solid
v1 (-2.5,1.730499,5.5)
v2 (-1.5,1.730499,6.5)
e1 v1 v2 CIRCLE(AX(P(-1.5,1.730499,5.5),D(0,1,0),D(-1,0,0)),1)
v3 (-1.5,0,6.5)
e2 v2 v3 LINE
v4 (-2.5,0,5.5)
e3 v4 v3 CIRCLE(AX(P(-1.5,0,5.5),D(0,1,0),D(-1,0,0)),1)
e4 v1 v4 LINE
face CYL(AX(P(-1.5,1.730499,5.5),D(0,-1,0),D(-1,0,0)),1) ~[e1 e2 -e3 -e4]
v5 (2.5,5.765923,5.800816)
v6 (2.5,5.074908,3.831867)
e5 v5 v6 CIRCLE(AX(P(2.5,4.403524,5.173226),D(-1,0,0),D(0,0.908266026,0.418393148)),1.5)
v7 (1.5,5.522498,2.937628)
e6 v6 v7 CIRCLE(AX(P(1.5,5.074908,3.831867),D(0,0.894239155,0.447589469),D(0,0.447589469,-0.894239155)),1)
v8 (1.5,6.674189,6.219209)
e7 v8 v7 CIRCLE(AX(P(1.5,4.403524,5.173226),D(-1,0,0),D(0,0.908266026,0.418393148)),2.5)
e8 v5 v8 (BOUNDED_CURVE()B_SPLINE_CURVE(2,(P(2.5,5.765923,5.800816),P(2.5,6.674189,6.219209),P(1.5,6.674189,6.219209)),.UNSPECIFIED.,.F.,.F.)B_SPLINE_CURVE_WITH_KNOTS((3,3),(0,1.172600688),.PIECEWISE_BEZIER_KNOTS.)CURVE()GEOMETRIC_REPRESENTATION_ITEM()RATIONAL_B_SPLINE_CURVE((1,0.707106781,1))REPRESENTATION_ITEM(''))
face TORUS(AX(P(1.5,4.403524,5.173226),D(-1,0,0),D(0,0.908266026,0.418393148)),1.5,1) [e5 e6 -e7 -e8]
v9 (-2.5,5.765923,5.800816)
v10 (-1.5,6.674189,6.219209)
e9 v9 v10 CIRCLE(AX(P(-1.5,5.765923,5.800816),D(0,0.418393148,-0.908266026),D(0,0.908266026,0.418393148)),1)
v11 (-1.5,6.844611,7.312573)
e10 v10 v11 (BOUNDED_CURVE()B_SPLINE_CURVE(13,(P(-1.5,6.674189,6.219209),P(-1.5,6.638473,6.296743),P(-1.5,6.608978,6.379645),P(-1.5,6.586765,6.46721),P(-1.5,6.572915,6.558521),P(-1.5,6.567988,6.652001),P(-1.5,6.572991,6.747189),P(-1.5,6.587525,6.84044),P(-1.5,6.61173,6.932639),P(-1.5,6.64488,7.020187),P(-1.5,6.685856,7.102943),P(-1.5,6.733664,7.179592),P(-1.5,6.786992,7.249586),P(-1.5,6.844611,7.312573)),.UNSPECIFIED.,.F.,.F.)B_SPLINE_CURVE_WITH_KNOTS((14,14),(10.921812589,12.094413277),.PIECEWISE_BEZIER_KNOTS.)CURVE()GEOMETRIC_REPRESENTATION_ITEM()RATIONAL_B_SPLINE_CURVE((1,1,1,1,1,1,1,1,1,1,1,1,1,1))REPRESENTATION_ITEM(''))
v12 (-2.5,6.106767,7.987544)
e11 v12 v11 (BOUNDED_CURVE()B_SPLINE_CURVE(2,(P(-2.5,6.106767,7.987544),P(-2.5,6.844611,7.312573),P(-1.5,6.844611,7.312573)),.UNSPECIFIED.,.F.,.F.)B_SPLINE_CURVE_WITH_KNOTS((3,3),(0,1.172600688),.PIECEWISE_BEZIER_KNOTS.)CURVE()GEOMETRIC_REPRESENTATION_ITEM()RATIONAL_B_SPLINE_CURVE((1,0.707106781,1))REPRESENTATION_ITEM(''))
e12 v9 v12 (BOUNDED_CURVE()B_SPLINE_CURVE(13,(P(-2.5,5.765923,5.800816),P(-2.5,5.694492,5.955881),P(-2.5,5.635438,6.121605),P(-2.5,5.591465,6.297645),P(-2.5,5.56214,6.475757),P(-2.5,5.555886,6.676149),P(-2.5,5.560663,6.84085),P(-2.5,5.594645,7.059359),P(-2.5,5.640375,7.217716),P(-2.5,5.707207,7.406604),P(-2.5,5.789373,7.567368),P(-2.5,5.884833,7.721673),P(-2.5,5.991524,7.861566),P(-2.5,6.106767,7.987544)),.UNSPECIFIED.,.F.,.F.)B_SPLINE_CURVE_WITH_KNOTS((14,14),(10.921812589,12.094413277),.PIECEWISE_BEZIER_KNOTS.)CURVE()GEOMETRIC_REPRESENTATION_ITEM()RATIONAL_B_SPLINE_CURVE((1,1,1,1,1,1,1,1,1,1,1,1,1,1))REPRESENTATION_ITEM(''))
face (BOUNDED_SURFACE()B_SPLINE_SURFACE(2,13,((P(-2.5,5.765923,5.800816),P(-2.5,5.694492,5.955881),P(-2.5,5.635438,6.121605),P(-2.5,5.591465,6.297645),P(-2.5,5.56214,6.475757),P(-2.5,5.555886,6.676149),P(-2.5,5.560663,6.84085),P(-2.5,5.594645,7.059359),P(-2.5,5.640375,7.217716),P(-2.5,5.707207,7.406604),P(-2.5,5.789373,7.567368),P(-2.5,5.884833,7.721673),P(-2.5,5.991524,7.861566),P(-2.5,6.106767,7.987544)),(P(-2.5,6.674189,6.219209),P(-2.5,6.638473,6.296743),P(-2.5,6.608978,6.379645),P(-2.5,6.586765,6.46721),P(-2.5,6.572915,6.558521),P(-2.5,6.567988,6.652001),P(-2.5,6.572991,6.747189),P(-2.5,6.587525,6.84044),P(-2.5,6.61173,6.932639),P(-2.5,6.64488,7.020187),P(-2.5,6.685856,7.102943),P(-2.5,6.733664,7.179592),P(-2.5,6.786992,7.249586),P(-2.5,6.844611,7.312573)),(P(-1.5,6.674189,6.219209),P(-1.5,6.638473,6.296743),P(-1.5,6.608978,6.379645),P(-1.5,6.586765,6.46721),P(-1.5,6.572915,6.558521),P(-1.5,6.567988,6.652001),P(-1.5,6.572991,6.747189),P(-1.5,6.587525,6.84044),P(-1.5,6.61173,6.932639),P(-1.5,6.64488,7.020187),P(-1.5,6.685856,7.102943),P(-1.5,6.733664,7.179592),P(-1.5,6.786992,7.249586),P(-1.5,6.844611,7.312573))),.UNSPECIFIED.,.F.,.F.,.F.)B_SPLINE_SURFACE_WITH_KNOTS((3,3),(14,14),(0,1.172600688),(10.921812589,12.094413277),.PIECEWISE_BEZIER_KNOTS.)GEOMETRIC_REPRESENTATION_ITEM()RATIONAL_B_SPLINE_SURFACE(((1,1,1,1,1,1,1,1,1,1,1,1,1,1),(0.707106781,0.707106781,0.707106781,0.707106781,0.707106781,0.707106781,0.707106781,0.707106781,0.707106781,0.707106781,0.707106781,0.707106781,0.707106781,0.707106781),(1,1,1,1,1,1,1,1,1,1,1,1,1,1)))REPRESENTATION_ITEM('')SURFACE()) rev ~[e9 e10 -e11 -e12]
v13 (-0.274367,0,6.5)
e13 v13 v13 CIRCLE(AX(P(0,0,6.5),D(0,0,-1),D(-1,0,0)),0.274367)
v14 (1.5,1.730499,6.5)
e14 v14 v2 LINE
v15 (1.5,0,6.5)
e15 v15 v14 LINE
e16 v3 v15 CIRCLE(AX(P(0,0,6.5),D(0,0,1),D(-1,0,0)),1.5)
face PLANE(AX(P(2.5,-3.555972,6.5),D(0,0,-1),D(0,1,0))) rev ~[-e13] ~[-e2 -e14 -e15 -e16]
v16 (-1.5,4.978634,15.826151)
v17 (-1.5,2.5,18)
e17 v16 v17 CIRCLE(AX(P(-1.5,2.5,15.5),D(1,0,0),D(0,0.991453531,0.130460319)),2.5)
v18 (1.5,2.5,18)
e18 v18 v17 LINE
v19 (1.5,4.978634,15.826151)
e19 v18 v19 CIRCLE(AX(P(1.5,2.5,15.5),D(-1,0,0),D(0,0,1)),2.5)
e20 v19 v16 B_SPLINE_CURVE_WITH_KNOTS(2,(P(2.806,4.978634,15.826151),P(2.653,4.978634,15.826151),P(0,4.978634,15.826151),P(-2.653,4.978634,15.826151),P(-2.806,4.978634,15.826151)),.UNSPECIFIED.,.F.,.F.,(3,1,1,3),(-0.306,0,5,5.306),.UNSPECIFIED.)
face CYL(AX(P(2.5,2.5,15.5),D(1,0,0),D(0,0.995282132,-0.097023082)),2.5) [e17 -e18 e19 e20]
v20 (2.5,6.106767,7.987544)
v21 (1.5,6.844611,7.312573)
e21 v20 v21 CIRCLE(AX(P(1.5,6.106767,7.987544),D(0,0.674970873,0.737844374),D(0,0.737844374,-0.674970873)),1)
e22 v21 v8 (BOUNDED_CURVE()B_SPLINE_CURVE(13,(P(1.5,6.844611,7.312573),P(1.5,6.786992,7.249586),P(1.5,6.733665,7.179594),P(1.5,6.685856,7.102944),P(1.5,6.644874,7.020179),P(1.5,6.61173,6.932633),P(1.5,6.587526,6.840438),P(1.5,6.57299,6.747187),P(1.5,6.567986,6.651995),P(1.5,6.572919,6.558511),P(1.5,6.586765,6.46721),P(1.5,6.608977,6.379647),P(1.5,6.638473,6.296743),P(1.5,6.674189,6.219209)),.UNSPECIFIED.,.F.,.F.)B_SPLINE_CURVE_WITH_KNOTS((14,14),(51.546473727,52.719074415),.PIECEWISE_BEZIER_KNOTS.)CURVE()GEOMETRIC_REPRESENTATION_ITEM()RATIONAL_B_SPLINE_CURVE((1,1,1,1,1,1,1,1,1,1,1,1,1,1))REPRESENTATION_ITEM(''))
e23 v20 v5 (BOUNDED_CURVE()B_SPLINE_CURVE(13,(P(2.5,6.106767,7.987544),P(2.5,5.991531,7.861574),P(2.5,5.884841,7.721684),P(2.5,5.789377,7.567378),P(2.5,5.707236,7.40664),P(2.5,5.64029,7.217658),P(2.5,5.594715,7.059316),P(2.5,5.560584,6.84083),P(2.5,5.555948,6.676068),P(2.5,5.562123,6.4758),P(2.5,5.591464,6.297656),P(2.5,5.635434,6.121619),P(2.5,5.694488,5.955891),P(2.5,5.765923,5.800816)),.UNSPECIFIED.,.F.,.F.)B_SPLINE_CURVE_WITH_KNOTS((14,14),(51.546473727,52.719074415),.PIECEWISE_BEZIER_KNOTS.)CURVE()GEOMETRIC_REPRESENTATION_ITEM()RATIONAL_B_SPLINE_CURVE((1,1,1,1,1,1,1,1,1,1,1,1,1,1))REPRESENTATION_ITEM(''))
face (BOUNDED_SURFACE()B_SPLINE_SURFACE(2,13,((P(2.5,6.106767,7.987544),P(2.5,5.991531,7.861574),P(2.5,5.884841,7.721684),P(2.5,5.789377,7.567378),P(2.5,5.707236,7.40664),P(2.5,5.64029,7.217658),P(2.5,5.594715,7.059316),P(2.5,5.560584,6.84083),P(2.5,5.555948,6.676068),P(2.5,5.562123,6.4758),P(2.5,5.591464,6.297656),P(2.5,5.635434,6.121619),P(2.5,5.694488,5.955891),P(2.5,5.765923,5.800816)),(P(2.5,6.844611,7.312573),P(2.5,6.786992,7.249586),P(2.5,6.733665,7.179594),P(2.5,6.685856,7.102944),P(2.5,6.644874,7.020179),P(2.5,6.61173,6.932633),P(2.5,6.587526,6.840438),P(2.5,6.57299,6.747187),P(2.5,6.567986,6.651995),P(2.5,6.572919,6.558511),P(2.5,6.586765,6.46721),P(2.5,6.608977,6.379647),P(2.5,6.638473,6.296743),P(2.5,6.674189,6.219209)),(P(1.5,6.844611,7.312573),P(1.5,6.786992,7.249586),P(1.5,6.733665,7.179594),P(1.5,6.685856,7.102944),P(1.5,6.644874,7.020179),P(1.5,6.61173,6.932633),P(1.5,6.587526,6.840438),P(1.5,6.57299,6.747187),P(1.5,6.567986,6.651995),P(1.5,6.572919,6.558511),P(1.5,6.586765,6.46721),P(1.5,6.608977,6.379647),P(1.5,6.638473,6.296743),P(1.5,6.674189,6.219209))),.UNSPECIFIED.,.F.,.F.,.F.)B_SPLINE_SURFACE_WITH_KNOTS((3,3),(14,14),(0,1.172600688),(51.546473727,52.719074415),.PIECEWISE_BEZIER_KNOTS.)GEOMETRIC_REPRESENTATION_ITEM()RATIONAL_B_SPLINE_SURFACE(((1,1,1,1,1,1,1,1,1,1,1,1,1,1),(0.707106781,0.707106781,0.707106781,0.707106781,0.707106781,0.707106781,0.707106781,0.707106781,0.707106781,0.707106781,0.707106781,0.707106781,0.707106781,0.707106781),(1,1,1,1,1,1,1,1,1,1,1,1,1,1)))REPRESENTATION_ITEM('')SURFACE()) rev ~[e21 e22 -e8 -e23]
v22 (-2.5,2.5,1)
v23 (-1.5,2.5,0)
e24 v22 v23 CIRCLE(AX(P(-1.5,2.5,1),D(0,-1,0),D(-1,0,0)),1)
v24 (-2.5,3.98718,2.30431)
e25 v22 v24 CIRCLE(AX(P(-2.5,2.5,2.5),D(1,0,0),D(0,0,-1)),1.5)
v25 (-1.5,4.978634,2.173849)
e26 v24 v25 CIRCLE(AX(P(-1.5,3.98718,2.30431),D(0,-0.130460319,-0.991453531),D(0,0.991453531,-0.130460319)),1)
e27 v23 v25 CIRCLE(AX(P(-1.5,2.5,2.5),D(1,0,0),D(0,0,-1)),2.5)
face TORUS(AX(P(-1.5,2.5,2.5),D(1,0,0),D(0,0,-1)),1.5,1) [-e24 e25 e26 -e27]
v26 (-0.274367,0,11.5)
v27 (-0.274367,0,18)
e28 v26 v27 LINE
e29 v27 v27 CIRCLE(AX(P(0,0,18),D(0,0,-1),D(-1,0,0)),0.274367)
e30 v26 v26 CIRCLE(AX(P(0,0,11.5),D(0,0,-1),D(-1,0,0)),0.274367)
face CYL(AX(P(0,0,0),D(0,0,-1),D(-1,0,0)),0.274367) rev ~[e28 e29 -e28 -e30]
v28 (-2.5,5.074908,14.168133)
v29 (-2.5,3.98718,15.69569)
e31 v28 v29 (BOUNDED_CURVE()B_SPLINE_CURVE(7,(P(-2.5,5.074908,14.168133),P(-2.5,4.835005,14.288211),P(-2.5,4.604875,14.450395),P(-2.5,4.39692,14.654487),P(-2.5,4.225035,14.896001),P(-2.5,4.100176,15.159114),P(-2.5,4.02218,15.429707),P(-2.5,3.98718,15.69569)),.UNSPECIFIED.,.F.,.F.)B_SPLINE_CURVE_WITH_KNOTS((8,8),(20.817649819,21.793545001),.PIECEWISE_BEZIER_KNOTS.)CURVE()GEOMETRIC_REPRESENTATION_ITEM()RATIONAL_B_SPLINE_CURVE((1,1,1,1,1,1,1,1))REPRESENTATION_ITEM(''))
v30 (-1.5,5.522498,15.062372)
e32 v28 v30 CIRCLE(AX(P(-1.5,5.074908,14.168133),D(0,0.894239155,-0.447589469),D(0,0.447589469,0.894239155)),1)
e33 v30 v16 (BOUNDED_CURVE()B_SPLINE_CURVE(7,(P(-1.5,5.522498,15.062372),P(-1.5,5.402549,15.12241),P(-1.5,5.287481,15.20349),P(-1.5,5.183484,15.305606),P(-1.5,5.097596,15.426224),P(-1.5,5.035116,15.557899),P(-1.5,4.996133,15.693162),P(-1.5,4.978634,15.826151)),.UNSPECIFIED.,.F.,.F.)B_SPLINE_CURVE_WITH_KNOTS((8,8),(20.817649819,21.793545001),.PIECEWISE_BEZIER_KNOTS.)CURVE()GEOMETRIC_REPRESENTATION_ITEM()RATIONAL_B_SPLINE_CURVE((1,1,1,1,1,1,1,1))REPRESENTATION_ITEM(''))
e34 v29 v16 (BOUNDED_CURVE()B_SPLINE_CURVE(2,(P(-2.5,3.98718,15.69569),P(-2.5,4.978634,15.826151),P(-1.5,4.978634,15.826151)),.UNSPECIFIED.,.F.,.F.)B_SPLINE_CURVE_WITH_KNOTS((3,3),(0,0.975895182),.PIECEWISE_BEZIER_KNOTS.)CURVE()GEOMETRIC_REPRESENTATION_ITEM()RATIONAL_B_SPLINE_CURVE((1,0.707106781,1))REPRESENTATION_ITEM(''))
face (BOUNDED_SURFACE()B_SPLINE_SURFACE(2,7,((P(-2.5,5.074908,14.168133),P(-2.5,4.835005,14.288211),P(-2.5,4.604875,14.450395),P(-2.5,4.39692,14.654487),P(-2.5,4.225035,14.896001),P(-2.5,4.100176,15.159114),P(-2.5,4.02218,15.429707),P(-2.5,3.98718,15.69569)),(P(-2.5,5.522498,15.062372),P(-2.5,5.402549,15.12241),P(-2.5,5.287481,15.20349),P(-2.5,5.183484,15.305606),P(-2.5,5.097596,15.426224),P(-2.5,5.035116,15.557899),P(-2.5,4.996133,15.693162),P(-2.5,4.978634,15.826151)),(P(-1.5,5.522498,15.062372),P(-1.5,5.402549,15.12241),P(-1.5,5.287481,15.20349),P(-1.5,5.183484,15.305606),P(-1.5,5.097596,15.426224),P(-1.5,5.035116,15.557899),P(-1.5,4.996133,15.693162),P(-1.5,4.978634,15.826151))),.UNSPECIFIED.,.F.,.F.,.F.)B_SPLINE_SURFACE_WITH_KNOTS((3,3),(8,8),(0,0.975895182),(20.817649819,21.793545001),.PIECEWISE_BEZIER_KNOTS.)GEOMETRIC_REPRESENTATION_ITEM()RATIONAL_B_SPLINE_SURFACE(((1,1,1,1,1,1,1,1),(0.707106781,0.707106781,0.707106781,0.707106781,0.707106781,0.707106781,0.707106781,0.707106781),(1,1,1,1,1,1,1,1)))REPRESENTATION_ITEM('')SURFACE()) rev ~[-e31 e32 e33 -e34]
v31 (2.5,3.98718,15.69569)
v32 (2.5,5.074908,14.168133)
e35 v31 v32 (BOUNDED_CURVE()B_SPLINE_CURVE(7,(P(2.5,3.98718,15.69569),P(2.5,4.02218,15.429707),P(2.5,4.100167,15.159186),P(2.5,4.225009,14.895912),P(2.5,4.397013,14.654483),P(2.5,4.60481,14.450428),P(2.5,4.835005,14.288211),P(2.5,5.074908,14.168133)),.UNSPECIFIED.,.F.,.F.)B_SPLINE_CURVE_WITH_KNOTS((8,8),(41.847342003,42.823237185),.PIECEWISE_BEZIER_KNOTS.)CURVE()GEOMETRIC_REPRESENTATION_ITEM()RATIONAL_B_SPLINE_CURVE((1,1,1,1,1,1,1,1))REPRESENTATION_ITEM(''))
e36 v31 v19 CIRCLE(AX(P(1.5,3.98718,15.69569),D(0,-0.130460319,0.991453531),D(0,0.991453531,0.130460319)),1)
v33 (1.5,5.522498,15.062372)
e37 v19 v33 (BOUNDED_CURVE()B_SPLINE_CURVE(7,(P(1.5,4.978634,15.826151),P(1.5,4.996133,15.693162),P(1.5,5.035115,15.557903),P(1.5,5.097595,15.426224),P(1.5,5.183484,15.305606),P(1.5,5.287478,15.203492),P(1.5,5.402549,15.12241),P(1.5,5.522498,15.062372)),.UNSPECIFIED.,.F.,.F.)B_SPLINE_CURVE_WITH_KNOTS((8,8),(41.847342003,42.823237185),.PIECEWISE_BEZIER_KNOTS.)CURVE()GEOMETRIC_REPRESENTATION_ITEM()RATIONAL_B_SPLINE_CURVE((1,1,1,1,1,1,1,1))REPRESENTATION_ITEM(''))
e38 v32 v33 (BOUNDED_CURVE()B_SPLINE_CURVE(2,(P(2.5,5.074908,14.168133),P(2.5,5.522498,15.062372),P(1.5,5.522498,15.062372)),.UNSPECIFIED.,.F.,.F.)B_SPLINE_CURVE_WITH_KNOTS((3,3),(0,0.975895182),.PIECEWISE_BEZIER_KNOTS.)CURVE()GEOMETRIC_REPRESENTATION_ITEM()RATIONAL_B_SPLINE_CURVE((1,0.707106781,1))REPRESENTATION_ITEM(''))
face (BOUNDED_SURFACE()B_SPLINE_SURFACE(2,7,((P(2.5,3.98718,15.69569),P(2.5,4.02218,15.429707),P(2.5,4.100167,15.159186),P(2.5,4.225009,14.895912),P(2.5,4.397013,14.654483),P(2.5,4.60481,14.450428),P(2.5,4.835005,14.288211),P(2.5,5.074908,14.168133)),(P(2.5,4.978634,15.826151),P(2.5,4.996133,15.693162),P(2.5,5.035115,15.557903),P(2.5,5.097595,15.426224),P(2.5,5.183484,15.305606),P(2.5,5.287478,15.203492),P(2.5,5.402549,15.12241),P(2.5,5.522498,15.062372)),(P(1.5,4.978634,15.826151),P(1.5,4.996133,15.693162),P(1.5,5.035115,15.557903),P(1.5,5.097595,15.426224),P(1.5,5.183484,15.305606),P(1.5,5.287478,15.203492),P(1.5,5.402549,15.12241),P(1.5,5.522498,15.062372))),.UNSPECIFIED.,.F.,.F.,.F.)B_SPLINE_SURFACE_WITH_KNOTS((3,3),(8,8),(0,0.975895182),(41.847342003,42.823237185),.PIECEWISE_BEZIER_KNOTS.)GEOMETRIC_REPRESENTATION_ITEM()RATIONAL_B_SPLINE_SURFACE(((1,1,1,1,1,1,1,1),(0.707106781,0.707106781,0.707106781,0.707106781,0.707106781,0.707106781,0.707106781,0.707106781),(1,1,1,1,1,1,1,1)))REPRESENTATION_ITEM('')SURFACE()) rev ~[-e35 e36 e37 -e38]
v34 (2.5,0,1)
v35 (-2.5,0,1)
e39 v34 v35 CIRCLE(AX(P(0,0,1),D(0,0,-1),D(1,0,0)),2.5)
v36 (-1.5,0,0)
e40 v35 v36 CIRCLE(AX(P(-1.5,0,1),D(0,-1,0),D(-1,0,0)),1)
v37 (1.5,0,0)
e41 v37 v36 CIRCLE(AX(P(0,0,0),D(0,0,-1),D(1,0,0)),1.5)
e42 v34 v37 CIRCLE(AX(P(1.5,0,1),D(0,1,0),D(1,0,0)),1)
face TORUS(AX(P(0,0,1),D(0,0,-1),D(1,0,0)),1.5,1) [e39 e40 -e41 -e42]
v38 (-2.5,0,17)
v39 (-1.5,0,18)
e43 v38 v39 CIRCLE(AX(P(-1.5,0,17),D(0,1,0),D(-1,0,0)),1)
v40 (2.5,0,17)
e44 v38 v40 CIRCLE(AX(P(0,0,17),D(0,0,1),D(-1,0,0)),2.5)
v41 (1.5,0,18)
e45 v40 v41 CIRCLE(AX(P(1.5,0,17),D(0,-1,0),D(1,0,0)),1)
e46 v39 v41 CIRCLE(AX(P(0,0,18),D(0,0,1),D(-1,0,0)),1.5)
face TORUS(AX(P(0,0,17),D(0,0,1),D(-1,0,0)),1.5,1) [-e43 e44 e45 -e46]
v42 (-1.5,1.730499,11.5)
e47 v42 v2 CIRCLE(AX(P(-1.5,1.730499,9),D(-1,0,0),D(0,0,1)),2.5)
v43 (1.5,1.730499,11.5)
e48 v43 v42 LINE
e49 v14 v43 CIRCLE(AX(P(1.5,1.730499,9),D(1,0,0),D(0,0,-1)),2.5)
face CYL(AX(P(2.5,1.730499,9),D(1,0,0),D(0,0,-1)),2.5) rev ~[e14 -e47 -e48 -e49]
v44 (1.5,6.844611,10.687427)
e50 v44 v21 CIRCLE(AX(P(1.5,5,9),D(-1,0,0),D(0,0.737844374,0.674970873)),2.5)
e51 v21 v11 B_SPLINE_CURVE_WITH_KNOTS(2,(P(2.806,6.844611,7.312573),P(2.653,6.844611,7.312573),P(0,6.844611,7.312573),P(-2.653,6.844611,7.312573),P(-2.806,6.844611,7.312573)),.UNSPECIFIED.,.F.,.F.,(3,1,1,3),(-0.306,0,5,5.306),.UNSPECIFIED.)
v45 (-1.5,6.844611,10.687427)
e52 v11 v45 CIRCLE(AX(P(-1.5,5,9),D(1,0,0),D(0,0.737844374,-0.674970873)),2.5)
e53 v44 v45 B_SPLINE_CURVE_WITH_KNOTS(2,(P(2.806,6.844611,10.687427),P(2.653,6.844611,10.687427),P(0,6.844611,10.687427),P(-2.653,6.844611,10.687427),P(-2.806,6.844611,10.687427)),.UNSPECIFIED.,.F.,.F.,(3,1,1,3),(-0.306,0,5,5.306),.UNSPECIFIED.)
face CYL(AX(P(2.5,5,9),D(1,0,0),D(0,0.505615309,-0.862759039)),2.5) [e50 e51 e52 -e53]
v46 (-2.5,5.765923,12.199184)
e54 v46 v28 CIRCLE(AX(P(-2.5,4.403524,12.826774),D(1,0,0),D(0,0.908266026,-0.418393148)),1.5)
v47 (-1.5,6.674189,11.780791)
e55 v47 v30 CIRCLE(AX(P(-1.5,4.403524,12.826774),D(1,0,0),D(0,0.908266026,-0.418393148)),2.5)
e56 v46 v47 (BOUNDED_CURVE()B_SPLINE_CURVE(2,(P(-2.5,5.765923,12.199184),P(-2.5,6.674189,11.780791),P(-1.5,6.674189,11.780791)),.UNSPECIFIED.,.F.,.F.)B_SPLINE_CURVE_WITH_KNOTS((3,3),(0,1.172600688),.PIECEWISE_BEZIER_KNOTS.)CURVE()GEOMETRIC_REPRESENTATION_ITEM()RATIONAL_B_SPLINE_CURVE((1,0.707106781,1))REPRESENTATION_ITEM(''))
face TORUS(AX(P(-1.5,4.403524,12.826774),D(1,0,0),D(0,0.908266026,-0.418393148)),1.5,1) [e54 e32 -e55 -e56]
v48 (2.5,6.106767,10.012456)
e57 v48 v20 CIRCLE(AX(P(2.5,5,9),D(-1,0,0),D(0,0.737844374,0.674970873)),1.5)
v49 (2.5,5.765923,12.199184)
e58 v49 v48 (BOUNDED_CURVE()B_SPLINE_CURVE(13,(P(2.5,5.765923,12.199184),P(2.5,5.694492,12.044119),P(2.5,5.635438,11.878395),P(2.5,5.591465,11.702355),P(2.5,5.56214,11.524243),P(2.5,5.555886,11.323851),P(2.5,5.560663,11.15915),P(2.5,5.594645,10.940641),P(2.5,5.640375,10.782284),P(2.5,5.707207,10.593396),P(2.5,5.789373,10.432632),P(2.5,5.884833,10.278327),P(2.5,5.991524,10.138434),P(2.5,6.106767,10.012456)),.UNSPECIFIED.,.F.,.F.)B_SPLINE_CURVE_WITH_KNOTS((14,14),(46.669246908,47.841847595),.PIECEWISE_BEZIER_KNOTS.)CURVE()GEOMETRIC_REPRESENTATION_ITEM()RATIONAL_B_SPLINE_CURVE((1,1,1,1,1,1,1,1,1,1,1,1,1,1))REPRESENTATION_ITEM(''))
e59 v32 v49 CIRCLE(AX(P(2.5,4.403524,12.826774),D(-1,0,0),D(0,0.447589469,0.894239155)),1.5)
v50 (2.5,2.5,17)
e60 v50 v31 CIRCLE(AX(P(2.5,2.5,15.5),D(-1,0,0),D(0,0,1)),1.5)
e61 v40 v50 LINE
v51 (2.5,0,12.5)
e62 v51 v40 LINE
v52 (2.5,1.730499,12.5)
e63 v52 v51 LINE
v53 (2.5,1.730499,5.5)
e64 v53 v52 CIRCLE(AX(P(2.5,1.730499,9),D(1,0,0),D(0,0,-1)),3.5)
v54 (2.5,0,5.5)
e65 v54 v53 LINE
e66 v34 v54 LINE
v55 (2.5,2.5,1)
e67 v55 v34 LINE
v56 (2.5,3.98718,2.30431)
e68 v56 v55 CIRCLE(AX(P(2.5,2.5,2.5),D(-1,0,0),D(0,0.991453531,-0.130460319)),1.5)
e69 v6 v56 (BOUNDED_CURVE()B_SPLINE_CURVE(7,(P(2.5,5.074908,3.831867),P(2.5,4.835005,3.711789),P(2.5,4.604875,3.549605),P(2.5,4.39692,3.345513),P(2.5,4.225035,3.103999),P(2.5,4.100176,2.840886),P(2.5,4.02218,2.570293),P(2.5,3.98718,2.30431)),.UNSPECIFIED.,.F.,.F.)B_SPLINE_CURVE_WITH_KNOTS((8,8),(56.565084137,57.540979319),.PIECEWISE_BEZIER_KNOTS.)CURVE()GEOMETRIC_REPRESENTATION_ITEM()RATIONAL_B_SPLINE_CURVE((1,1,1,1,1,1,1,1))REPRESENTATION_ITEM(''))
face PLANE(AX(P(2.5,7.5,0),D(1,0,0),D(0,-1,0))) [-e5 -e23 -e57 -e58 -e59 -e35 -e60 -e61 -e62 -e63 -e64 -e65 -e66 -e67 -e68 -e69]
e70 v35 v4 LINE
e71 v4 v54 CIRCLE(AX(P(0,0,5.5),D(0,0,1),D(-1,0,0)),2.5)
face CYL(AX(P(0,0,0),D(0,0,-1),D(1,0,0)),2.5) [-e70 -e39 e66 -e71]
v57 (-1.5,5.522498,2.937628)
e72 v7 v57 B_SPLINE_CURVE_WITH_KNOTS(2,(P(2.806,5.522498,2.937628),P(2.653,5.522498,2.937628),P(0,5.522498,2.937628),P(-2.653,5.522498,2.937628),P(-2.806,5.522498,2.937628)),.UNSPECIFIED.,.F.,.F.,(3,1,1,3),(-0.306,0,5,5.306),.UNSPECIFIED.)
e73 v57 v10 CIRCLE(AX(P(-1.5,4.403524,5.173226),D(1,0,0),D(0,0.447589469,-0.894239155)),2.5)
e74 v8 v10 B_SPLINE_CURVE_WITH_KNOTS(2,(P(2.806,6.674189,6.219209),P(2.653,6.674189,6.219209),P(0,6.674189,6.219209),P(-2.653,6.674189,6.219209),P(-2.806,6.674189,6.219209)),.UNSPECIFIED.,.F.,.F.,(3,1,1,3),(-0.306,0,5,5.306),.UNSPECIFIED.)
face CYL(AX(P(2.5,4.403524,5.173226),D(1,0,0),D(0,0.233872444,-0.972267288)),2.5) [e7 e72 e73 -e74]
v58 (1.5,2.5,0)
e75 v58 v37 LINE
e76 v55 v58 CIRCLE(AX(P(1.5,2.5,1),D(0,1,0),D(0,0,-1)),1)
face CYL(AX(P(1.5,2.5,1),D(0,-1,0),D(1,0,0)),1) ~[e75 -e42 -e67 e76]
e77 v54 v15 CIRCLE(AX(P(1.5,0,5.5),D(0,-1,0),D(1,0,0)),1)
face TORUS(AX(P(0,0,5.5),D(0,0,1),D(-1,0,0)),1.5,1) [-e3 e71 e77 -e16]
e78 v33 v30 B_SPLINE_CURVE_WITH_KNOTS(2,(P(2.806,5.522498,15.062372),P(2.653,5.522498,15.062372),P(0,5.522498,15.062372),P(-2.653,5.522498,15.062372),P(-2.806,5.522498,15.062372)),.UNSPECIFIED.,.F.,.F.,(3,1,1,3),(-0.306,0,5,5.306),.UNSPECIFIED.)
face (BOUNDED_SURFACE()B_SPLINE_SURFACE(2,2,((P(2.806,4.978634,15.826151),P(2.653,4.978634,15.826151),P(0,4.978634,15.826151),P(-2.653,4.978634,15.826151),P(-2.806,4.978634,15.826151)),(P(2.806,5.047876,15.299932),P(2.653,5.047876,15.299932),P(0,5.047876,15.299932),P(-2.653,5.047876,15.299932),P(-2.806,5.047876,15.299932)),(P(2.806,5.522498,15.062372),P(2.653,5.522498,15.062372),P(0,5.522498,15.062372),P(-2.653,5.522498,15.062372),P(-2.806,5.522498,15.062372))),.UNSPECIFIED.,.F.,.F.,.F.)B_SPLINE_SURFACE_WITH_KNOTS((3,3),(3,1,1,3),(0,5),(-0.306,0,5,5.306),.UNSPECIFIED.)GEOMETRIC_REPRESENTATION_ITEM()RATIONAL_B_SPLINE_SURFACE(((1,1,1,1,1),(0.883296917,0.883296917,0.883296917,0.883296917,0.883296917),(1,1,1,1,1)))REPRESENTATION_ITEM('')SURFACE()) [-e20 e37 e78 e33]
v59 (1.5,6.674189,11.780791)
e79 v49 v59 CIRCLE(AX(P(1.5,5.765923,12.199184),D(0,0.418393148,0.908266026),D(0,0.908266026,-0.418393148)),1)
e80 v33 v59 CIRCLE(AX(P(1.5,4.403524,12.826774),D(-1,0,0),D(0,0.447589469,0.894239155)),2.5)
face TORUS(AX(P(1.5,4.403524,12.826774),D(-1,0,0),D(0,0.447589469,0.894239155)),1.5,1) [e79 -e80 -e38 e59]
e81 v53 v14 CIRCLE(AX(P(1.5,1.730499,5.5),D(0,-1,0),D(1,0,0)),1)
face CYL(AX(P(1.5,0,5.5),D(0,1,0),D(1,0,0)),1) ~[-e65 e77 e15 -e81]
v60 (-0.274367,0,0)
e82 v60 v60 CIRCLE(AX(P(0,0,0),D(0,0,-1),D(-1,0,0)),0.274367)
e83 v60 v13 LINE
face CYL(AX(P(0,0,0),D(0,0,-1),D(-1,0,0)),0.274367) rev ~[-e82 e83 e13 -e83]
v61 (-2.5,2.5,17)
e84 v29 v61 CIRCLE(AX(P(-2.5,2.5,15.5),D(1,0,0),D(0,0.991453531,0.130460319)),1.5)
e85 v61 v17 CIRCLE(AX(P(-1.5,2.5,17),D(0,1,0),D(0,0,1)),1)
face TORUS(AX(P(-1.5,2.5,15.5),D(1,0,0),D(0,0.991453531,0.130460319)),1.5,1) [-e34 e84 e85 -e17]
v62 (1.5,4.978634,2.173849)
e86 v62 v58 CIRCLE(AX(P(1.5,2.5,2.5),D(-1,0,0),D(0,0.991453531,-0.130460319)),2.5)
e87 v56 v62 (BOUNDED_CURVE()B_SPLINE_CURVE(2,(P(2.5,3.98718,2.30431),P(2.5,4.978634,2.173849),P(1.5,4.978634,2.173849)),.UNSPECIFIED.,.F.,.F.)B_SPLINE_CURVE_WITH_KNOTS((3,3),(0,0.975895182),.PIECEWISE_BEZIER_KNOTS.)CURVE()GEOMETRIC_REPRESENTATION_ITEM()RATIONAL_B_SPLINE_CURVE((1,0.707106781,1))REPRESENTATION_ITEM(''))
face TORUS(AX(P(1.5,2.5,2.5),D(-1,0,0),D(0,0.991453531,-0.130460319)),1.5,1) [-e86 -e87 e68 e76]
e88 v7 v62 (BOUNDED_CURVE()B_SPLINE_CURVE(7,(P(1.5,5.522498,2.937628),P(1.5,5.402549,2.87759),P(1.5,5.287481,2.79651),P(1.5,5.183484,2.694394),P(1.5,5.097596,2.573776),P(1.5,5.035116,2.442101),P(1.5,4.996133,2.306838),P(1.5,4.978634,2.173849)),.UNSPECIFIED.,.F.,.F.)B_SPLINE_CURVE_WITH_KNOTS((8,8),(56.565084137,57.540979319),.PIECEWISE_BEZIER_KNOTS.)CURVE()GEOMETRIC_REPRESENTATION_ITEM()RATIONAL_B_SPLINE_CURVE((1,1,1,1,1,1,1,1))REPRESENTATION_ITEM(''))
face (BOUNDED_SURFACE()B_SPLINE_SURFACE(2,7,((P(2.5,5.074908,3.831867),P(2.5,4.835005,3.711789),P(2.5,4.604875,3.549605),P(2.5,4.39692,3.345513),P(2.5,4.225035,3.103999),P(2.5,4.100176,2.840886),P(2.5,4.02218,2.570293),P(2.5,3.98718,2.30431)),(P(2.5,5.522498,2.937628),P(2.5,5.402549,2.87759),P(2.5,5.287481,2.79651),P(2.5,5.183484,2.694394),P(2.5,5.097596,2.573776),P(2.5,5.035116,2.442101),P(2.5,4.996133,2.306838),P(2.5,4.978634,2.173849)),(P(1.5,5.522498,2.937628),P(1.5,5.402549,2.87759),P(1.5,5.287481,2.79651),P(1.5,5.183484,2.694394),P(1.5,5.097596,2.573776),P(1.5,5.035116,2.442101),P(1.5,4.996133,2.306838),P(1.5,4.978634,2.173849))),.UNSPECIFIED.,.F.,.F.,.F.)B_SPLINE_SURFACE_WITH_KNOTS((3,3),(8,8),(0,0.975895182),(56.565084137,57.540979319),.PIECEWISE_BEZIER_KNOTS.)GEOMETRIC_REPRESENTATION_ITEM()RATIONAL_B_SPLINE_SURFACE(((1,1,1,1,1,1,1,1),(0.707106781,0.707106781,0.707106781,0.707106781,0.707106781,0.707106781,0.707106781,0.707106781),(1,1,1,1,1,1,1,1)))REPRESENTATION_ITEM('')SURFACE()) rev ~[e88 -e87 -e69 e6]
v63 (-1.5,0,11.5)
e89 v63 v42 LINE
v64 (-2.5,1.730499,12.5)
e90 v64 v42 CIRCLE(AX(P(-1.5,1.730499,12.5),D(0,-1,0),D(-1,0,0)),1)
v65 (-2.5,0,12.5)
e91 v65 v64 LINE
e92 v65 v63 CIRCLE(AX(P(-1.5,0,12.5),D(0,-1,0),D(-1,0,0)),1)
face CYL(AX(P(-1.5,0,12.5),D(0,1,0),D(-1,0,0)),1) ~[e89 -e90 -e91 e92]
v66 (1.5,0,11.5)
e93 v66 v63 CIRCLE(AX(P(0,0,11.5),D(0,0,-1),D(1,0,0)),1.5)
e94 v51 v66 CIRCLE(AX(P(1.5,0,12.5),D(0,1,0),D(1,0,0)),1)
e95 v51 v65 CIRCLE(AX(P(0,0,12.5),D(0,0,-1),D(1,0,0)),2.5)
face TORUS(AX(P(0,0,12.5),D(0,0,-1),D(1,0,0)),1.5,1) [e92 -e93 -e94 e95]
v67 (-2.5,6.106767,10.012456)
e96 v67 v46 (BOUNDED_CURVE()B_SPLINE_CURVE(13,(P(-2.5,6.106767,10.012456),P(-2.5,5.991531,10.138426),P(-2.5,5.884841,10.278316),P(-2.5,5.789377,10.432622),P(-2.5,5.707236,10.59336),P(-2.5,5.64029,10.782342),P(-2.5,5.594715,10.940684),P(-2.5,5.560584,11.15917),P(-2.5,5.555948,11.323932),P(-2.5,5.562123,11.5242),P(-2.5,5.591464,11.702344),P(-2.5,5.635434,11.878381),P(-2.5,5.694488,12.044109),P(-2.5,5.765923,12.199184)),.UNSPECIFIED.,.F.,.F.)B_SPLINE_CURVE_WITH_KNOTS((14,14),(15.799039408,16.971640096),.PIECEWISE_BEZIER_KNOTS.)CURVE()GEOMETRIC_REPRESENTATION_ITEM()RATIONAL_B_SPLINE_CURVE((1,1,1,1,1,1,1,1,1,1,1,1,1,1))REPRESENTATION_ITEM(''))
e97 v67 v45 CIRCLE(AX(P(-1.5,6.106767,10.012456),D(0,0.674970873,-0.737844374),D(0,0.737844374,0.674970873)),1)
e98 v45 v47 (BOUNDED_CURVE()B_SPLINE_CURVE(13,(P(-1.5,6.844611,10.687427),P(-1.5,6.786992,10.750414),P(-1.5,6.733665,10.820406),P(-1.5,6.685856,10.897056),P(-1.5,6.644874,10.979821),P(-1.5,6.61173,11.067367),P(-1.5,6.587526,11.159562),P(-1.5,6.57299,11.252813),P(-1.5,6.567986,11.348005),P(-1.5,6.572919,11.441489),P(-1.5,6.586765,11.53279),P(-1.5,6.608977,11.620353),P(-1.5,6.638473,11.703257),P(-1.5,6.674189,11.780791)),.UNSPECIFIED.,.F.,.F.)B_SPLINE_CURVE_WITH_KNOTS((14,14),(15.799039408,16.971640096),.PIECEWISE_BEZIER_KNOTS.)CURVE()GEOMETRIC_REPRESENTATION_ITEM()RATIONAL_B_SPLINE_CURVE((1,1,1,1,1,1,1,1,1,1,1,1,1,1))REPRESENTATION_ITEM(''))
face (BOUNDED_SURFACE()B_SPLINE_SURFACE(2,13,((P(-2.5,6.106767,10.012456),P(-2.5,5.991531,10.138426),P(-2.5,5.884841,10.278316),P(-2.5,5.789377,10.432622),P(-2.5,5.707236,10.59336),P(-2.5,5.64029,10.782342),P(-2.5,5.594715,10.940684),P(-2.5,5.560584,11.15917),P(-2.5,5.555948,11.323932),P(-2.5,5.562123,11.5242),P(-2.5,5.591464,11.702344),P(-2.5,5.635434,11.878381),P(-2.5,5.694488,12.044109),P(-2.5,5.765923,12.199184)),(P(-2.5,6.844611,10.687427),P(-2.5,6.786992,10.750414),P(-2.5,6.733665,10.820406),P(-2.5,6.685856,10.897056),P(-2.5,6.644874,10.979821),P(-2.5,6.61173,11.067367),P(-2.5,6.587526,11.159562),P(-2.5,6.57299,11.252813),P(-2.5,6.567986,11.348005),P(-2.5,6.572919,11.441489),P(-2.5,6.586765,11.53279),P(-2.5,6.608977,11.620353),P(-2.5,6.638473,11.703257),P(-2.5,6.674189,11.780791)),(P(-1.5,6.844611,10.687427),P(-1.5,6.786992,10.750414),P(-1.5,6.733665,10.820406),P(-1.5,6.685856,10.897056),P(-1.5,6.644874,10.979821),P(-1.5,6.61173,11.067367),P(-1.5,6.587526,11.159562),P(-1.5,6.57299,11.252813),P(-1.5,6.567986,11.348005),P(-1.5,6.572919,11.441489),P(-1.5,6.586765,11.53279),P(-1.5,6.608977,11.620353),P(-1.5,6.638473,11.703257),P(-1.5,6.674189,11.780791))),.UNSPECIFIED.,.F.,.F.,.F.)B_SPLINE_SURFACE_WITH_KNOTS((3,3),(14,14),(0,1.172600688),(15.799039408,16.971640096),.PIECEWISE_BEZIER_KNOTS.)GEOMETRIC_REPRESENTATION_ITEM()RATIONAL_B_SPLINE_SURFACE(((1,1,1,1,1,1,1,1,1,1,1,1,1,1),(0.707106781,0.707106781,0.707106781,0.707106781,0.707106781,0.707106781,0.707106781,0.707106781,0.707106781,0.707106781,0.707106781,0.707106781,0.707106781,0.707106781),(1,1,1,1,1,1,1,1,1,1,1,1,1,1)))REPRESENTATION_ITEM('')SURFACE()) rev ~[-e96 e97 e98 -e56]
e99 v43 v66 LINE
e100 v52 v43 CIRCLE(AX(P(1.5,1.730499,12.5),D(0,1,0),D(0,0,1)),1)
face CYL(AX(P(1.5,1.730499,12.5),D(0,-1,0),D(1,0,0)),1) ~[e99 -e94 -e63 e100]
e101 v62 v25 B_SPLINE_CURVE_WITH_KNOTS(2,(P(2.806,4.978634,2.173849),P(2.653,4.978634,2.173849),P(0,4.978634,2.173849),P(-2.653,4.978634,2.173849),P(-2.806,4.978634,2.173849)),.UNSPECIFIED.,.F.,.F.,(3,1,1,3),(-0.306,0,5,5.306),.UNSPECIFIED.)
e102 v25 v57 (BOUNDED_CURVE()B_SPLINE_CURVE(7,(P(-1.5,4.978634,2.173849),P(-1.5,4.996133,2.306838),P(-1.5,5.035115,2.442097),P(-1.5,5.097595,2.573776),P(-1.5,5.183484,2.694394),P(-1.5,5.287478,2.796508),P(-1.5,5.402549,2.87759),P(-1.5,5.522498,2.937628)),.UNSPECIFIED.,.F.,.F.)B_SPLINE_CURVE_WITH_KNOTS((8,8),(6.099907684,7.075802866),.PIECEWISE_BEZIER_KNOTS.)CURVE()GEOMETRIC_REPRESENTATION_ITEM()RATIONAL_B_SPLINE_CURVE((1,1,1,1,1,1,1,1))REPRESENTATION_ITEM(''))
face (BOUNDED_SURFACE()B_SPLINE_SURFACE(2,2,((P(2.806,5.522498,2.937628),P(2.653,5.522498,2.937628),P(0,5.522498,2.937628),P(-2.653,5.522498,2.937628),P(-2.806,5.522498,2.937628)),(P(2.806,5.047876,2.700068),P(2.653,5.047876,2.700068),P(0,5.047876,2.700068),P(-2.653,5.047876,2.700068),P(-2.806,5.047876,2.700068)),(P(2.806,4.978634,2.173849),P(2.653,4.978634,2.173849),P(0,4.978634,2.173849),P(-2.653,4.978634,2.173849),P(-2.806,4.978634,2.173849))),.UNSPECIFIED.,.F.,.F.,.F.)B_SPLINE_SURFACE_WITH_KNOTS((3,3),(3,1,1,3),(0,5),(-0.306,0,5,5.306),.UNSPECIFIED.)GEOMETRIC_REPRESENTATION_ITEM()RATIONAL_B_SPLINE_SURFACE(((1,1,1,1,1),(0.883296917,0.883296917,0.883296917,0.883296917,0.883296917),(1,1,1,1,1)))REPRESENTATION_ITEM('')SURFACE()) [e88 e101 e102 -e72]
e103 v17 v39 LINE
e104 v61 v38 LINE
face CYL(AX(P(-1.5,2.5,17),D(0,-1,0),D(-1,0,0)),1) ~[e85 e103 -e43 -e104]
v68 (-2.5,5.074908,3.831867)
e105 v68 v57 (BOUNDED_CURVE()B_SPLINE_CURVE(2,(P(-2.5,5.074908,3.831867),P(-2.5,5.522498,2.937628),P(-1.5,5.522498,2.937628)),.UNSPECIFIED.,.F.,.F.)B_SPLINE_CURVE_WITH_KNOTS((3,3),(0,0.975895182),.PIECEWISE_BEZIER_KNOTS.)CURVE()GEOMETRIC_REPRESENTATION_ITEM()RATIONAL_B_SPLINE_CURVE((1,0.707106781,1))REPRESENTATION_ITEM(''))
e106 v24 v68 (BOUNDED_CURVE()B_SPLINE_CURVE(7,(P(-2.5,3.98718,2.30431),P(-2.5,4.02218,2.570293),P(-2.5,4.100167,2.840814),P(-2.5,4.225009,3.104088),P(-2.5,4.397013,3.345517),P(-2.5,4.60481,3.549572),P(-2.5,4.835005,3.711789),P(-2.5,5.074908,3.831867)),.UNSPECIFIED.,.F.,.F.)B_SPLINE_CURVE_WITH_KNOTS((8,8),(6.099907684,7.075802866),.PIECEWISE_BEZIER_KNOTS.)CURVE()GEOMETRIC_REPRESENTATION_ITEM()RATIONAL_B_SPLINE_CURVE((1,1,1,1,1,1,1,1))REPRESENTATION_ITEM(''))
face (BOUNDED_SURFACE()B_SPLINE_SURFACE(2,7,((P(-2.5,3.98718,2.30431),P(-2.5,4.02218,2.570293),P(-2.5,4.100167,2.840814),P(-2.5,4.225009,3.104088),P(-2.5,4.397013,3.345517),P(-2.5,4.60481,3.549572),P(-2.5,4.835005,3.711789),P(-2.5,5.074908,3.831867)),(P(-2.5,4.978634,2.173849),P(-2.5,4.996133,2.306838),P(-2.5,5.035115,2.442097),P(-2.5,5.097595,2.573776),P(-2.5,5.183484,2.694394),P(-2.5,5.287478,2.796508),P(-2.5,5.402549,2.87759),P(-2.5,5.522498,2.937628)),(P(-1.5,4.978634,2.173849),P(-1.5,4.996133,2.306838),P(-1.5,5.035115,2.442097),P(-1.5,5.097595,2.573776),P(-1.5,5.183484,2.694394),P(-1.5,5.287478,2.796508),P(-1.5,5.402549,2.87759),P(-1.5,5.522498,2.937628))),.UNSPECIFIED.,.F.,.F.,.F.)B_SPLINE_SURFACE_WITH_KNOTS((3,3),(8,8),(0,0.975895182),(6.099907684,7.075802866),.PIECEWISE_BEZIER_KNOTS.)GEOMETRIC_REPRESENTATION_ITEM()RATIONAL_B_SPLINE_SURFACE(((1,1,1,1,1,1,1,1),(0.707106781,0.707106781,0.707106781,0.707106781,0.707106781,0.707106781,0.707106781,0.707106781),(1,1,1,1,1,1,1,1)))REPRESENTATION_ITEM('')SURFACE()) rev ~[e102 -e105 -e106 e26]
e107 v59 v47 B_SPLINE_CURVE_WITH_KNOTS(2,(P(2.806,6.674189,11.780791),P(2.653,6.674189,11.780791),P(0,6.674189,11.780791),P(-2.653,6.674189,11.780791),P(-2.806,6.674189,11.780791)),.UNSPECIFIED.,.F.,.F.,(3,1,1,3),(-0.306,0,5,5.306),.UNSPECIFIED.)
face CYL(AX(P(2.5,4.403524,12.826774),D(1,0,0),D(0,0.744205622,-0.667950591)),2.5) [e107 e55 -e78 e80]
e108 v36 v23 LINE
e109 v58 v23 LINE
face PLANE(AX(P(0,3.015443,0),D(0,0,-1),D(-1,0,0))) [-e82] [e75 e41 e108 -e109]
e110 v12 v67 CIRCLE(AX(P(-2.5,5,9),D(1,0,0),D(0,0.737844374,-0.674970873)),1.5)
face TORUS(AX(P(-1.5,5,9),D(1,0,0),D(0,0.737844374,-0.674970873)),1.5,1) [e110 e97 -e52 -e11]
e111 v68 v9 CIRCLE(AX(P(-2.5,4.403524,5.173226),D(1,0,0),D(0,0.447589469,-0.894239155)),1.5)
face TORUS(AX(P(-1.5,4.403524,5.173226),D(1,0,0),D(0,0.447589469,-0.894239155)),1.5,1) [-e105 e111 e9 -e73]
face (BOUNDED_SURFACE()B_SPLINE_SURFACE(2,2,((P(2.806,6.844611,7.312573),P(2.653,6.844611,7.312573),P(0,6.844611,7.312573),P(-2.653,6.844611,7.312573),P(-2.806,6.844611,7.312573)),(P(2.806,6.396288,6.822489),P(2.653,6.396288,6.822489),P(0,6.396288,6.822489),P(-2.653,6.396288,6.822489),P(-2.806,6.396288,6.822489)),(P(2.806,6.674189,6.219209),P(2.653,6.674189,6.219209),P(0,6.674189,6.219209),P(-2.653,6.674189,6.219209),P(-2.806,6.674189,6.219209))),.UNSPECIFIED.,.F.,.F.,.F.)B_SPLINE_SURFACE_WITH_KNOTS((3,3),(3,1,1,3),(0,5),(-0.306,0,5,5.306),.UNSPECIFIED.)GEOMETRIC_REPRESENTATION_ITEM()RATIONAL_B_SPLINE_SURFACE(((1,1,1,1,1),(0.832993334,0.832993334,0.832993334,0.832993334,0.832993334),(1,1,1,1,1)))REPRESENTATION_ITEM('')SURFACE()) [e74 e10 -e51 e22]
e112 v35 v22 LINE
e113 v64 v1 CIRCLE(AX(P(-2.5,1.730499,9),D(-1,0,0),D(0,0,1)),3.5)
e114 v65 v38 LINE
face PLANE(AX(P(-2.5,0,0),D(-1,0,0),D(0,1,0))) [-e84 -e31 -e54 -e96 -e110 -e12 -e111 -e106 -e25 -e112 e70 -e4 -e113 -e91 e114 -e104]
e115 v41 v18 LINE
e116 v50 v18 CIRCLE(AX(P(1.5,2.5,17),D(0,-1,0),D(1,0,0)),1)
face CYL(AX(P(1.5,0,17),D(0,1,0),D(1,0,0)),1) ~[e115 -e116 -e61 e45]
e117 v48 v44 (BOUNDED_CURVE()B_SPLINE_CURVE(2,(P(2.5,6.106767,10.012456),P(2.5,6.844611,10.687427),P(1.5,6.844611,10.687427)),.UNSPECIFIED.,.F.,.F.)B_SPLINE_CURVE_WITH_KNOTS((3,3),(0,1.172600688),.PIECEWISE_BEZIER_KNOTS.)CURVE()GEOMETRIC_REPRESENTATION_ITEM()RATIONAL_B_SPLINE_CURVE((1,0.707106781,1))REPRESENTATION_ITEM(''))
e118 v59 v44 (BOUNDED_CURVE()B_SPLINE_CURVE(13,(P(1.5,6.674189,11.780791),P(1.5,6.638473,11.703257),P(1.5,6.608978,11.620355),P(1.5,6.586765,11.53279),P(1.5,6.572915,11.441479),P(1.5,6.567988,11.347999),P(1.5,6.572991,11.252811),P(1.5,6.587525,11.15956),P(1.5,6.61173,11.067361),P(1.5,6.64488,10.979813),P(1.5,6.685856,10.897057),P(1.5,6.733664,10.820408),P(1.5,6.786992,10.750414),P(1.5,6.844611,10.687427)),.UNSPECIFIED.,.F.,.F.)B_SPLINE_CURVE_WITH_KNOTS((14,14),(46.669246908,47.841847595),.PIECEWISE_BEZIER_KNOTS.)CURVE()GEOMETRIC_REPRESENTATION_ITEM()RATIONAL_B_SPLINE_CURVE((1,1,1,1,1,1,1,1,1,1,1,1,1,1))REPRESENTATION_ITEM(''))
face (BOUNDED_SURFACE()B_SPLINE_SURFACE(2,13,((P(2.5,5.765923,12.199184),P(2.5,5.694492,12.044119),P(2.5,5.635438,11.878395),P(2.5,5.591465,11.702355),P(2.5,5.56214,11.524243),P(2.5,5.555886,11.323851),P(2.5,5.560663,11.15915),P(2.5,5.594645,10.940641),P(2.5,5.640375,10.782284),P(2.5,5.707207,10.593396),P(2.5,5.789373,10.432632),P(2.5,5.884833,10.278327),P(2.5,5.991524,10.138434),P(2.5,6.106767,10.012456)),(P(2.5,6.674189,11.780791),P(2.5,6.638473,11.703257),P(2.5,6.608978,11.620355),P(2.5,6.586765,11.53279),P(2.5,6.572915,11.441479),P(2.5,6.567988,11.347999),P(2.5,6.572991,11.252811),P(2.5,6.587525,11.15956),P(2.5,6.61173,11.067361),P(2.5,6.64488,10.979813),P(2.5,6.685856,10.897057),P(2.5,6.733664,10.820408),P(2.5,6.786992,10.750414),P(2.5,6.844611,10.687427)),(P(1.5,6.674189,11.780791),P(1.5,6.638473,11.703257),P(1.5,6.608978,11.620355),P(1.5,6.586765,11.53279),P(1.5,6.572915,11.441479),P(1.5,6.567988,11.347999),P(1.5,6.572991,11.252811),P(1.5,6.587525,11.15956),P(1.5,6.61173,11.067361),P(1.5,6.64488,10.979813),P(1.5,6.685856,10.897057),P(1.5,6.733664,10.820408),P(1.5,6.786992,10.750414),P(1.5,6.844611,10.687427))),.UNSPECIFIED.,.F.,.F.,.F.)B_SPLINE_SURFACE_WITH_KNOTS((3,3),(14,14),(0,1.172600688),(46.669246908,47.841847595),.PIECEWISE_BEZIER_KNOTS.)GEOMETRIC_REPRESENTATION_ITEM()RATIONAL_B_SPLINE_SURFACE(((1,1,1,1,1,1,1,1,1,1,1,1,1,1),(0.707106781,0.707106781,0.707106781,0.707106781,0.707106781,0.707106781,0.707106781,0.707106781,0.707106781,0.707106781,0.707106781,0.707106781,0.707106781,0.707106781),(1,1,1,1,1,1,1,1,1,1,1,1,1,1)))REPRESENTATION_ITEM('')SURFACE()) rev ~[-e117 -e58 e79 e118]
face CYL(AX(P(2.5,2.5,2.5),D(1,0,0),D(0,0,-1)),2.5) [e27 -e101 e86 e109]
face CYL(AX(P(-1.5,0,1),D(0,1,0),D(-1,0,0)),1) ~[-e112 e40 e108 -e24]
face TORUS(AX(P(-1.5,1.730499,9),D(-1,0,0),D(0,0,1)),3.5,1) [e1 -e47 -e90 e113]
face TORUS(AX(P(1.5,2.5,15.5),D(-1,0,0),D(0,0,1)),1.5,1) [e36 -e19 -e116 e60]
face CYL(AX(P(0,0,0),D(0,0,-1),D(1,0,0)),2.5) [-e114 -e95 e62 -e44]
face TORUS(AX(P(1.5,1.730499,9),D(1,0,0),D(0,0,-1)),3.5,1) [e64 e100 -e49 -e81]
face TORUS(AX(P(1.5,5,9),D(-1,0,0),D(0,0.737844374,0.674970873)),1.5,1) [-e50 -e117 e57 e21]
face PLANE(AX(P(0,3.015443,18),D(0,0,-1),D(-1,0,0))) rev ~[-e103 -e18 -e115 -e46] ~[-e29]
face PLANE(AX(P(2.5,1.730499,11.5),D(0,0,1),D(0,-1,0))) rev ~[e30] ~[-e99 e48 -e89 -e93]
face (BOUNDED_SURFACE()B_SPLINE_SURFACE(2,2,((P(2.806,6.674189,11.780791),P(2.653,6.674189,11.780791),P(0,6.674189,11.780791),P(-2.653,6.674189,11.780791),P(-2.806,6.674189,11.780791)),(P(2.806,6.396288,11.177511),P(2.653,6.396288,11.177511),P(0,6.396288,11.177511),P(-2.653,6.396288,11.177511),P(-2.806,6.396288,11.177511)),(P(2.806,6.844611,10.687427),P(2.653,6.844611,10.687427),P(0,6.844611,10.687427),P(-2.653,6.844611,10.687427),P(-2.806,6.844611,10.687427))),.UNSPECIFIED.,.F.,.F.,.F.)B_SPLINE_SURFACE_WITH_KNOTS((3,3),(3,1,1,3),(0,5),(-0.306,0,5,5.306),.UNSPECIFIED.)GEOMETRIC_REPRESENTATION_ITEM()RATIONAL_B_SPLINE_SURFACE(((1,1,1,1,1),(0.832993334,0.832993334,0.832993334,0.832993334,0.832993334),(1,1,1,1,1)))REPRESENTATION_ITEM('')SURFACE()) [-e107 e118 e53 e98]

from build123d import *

# Parameters (mm, degrees)
EXTRUDE_1_DEPTH     = 18
CUT_EXTRUDE_1_DEPTH = 6
SKETCH_3_R          = 0.274367176
CUT_EXTRUDE_2_DEPTH = 19
FILLET_1_R          = 1
FILLET_2_R          = 1


with BuildPart() as part:
    # Эскиз1 → Бобышка-Вытянуть1 (new body)
    with BuildSketch(Plane.XY):
        with BuildLine():
            Line((-2.5, 0), (-2.5, 7.5))
            Line((-2.5, 7.5), (2.5, 7.5))
            Line((2.5, 7.5), (2.5, 0))
            ThreePointArc((2.5, 0), (0, -2.5), (-2.5, 0))
        make_face()
    extrude(amount=EXTRUDE_1_DEPTH)

    # Эскиз2 → Вырез-Вытянуть1 (cut, through all)
    with BuildSketch(Plane(origin=(2.5, 0, 0), x_dir=(0, 0, -1), z_dir=(1, 0, 0))):
        with BuildLine():
            Line((-18, 2.5), (-18, 8.150544397))
            Line((-18, 8.150544397), (0, 8.150544397))
            Line((0, 8.150544397), (0, 2.5))
            ThreePointArc((0, 2.5), (-0.820177727, 4.351539125), (-2.742557705, 4.988205329))
            ThreePointArc((-2.742557705, 4.988205329), (-4.430502259, 6.790648336), (-6.843102403, 6.264038273))
            ThreePointArc((-6.843102403, 6.264038273), (-9, 7.5), (-11.156897597, 6.264038273))
            ThreePointArc((-11.156897597, 6.264038273), (-13.569497741, 6.790648336), (-15.257442295, 4.988205329))
            ThreePointArc((-15.257442295, 4.988205329), (-17.179822273, 4.351539125), (-18, 2.5))
        make_face()
        with BuildLine():
            Line((-11.5, 1.730499203), (-11.5, -3.555972199))
            Line((-11.5, -3.555972199), (-6.5, -3.555972199))
            Line((-6.5, -3.555972199), (-6.5, 1.730499203))
            ThreePointArc((-6.5, 1.730499203), (-9, 4.230499203), (-11.5, 1.730499203))
        make_face()
    extrude(amount=-CUT_EXTRUDE_1_DEPTH, mode=Mode.SUBTRACT)

    # Эскиз3 → Вырез-Вытянуть2 (cut, through all)
    with BuildSketch(Plane(origin=(0, 0, 0), x_dir=(-1, 0, 0), z_dir=(0, 0, -1))):
        Circle(SKETCH_3_R)
    extrude(amount=-CUT_EXTRUDE_2_DEPTH, mode=Mode.SUBTRACT)

    # Скругление1
    fillet_1_edges = [part.edges().sort_by_distance(p)[0] for p in [
        (0, 6.264038273, 6.843102403),
        (0, 6.264038273, 11.156897597),
        (0, 4.988205329, 15.257442295),
        (0, 4.988205329, 2.742557705),
    ]]
    fillet(fillet_1_edges, radius=FILLET_1_R)

    # Скругление2
    fillet_2_edges = [part.edges().sort_by_distance(p)[0] for p in [
        (-2.5, 1.25, 0),
        (-2.5, 1.25, 18),
        (2.5, 4.148426978, 17.379544758),
        (-2.5, 4.148426978, 17.379544758),
        (0, -2.5, 18),
        (-2.5, 0.865249601, 6.5),
        (2.5, 0.865249601, 11.5),
        (2.5, 0.865249601, 6.5),
        (2.5, 4.230499203, 9),
        (0, -2.5, 6.5),
        (-2.5, 0.865249601, 11.5),
        (0, -2.5, 11.5),
        (-2.5, 4.230499203, 9),
        (2.5, 1.25, 0),
        (0, -2.5, 0),
        (2.5, 1.25, 18),
        (2.5, 4.148426978, 0.620455242),
        (-2.5, 4.148426978, 0.620455242),
        (2.5, 6.762465879, 4.345340523),
        (-2.5, 6.762465879, 4.345340523),
        (2.5, 7.5, 9),
        (-2.5, 7.5, 9),
        (2.5, 6.762465879, 13.654659477),
        (-2.5, 6.762465879, 13.654659477),
        (2.5, 5.155501136, 2.623431365),
        (-2.5, 5.155501136, 2.623431365),
        (2.5, 6.594385937, 6.791611414),
        (-2.5, 6.594385937, 6.791611414),
        (2.5, 6.594385937, 11.208388586),
        (-2.5, 6.594385937, 11.208388586),
        (2.5, 5.155501136, 15.376568635),
        (-2.5, 5.155501136, 15.376568635),
    ]]
    fillet(fillet_2_edges, radius=FILLET_2_R)


solid = part.part
